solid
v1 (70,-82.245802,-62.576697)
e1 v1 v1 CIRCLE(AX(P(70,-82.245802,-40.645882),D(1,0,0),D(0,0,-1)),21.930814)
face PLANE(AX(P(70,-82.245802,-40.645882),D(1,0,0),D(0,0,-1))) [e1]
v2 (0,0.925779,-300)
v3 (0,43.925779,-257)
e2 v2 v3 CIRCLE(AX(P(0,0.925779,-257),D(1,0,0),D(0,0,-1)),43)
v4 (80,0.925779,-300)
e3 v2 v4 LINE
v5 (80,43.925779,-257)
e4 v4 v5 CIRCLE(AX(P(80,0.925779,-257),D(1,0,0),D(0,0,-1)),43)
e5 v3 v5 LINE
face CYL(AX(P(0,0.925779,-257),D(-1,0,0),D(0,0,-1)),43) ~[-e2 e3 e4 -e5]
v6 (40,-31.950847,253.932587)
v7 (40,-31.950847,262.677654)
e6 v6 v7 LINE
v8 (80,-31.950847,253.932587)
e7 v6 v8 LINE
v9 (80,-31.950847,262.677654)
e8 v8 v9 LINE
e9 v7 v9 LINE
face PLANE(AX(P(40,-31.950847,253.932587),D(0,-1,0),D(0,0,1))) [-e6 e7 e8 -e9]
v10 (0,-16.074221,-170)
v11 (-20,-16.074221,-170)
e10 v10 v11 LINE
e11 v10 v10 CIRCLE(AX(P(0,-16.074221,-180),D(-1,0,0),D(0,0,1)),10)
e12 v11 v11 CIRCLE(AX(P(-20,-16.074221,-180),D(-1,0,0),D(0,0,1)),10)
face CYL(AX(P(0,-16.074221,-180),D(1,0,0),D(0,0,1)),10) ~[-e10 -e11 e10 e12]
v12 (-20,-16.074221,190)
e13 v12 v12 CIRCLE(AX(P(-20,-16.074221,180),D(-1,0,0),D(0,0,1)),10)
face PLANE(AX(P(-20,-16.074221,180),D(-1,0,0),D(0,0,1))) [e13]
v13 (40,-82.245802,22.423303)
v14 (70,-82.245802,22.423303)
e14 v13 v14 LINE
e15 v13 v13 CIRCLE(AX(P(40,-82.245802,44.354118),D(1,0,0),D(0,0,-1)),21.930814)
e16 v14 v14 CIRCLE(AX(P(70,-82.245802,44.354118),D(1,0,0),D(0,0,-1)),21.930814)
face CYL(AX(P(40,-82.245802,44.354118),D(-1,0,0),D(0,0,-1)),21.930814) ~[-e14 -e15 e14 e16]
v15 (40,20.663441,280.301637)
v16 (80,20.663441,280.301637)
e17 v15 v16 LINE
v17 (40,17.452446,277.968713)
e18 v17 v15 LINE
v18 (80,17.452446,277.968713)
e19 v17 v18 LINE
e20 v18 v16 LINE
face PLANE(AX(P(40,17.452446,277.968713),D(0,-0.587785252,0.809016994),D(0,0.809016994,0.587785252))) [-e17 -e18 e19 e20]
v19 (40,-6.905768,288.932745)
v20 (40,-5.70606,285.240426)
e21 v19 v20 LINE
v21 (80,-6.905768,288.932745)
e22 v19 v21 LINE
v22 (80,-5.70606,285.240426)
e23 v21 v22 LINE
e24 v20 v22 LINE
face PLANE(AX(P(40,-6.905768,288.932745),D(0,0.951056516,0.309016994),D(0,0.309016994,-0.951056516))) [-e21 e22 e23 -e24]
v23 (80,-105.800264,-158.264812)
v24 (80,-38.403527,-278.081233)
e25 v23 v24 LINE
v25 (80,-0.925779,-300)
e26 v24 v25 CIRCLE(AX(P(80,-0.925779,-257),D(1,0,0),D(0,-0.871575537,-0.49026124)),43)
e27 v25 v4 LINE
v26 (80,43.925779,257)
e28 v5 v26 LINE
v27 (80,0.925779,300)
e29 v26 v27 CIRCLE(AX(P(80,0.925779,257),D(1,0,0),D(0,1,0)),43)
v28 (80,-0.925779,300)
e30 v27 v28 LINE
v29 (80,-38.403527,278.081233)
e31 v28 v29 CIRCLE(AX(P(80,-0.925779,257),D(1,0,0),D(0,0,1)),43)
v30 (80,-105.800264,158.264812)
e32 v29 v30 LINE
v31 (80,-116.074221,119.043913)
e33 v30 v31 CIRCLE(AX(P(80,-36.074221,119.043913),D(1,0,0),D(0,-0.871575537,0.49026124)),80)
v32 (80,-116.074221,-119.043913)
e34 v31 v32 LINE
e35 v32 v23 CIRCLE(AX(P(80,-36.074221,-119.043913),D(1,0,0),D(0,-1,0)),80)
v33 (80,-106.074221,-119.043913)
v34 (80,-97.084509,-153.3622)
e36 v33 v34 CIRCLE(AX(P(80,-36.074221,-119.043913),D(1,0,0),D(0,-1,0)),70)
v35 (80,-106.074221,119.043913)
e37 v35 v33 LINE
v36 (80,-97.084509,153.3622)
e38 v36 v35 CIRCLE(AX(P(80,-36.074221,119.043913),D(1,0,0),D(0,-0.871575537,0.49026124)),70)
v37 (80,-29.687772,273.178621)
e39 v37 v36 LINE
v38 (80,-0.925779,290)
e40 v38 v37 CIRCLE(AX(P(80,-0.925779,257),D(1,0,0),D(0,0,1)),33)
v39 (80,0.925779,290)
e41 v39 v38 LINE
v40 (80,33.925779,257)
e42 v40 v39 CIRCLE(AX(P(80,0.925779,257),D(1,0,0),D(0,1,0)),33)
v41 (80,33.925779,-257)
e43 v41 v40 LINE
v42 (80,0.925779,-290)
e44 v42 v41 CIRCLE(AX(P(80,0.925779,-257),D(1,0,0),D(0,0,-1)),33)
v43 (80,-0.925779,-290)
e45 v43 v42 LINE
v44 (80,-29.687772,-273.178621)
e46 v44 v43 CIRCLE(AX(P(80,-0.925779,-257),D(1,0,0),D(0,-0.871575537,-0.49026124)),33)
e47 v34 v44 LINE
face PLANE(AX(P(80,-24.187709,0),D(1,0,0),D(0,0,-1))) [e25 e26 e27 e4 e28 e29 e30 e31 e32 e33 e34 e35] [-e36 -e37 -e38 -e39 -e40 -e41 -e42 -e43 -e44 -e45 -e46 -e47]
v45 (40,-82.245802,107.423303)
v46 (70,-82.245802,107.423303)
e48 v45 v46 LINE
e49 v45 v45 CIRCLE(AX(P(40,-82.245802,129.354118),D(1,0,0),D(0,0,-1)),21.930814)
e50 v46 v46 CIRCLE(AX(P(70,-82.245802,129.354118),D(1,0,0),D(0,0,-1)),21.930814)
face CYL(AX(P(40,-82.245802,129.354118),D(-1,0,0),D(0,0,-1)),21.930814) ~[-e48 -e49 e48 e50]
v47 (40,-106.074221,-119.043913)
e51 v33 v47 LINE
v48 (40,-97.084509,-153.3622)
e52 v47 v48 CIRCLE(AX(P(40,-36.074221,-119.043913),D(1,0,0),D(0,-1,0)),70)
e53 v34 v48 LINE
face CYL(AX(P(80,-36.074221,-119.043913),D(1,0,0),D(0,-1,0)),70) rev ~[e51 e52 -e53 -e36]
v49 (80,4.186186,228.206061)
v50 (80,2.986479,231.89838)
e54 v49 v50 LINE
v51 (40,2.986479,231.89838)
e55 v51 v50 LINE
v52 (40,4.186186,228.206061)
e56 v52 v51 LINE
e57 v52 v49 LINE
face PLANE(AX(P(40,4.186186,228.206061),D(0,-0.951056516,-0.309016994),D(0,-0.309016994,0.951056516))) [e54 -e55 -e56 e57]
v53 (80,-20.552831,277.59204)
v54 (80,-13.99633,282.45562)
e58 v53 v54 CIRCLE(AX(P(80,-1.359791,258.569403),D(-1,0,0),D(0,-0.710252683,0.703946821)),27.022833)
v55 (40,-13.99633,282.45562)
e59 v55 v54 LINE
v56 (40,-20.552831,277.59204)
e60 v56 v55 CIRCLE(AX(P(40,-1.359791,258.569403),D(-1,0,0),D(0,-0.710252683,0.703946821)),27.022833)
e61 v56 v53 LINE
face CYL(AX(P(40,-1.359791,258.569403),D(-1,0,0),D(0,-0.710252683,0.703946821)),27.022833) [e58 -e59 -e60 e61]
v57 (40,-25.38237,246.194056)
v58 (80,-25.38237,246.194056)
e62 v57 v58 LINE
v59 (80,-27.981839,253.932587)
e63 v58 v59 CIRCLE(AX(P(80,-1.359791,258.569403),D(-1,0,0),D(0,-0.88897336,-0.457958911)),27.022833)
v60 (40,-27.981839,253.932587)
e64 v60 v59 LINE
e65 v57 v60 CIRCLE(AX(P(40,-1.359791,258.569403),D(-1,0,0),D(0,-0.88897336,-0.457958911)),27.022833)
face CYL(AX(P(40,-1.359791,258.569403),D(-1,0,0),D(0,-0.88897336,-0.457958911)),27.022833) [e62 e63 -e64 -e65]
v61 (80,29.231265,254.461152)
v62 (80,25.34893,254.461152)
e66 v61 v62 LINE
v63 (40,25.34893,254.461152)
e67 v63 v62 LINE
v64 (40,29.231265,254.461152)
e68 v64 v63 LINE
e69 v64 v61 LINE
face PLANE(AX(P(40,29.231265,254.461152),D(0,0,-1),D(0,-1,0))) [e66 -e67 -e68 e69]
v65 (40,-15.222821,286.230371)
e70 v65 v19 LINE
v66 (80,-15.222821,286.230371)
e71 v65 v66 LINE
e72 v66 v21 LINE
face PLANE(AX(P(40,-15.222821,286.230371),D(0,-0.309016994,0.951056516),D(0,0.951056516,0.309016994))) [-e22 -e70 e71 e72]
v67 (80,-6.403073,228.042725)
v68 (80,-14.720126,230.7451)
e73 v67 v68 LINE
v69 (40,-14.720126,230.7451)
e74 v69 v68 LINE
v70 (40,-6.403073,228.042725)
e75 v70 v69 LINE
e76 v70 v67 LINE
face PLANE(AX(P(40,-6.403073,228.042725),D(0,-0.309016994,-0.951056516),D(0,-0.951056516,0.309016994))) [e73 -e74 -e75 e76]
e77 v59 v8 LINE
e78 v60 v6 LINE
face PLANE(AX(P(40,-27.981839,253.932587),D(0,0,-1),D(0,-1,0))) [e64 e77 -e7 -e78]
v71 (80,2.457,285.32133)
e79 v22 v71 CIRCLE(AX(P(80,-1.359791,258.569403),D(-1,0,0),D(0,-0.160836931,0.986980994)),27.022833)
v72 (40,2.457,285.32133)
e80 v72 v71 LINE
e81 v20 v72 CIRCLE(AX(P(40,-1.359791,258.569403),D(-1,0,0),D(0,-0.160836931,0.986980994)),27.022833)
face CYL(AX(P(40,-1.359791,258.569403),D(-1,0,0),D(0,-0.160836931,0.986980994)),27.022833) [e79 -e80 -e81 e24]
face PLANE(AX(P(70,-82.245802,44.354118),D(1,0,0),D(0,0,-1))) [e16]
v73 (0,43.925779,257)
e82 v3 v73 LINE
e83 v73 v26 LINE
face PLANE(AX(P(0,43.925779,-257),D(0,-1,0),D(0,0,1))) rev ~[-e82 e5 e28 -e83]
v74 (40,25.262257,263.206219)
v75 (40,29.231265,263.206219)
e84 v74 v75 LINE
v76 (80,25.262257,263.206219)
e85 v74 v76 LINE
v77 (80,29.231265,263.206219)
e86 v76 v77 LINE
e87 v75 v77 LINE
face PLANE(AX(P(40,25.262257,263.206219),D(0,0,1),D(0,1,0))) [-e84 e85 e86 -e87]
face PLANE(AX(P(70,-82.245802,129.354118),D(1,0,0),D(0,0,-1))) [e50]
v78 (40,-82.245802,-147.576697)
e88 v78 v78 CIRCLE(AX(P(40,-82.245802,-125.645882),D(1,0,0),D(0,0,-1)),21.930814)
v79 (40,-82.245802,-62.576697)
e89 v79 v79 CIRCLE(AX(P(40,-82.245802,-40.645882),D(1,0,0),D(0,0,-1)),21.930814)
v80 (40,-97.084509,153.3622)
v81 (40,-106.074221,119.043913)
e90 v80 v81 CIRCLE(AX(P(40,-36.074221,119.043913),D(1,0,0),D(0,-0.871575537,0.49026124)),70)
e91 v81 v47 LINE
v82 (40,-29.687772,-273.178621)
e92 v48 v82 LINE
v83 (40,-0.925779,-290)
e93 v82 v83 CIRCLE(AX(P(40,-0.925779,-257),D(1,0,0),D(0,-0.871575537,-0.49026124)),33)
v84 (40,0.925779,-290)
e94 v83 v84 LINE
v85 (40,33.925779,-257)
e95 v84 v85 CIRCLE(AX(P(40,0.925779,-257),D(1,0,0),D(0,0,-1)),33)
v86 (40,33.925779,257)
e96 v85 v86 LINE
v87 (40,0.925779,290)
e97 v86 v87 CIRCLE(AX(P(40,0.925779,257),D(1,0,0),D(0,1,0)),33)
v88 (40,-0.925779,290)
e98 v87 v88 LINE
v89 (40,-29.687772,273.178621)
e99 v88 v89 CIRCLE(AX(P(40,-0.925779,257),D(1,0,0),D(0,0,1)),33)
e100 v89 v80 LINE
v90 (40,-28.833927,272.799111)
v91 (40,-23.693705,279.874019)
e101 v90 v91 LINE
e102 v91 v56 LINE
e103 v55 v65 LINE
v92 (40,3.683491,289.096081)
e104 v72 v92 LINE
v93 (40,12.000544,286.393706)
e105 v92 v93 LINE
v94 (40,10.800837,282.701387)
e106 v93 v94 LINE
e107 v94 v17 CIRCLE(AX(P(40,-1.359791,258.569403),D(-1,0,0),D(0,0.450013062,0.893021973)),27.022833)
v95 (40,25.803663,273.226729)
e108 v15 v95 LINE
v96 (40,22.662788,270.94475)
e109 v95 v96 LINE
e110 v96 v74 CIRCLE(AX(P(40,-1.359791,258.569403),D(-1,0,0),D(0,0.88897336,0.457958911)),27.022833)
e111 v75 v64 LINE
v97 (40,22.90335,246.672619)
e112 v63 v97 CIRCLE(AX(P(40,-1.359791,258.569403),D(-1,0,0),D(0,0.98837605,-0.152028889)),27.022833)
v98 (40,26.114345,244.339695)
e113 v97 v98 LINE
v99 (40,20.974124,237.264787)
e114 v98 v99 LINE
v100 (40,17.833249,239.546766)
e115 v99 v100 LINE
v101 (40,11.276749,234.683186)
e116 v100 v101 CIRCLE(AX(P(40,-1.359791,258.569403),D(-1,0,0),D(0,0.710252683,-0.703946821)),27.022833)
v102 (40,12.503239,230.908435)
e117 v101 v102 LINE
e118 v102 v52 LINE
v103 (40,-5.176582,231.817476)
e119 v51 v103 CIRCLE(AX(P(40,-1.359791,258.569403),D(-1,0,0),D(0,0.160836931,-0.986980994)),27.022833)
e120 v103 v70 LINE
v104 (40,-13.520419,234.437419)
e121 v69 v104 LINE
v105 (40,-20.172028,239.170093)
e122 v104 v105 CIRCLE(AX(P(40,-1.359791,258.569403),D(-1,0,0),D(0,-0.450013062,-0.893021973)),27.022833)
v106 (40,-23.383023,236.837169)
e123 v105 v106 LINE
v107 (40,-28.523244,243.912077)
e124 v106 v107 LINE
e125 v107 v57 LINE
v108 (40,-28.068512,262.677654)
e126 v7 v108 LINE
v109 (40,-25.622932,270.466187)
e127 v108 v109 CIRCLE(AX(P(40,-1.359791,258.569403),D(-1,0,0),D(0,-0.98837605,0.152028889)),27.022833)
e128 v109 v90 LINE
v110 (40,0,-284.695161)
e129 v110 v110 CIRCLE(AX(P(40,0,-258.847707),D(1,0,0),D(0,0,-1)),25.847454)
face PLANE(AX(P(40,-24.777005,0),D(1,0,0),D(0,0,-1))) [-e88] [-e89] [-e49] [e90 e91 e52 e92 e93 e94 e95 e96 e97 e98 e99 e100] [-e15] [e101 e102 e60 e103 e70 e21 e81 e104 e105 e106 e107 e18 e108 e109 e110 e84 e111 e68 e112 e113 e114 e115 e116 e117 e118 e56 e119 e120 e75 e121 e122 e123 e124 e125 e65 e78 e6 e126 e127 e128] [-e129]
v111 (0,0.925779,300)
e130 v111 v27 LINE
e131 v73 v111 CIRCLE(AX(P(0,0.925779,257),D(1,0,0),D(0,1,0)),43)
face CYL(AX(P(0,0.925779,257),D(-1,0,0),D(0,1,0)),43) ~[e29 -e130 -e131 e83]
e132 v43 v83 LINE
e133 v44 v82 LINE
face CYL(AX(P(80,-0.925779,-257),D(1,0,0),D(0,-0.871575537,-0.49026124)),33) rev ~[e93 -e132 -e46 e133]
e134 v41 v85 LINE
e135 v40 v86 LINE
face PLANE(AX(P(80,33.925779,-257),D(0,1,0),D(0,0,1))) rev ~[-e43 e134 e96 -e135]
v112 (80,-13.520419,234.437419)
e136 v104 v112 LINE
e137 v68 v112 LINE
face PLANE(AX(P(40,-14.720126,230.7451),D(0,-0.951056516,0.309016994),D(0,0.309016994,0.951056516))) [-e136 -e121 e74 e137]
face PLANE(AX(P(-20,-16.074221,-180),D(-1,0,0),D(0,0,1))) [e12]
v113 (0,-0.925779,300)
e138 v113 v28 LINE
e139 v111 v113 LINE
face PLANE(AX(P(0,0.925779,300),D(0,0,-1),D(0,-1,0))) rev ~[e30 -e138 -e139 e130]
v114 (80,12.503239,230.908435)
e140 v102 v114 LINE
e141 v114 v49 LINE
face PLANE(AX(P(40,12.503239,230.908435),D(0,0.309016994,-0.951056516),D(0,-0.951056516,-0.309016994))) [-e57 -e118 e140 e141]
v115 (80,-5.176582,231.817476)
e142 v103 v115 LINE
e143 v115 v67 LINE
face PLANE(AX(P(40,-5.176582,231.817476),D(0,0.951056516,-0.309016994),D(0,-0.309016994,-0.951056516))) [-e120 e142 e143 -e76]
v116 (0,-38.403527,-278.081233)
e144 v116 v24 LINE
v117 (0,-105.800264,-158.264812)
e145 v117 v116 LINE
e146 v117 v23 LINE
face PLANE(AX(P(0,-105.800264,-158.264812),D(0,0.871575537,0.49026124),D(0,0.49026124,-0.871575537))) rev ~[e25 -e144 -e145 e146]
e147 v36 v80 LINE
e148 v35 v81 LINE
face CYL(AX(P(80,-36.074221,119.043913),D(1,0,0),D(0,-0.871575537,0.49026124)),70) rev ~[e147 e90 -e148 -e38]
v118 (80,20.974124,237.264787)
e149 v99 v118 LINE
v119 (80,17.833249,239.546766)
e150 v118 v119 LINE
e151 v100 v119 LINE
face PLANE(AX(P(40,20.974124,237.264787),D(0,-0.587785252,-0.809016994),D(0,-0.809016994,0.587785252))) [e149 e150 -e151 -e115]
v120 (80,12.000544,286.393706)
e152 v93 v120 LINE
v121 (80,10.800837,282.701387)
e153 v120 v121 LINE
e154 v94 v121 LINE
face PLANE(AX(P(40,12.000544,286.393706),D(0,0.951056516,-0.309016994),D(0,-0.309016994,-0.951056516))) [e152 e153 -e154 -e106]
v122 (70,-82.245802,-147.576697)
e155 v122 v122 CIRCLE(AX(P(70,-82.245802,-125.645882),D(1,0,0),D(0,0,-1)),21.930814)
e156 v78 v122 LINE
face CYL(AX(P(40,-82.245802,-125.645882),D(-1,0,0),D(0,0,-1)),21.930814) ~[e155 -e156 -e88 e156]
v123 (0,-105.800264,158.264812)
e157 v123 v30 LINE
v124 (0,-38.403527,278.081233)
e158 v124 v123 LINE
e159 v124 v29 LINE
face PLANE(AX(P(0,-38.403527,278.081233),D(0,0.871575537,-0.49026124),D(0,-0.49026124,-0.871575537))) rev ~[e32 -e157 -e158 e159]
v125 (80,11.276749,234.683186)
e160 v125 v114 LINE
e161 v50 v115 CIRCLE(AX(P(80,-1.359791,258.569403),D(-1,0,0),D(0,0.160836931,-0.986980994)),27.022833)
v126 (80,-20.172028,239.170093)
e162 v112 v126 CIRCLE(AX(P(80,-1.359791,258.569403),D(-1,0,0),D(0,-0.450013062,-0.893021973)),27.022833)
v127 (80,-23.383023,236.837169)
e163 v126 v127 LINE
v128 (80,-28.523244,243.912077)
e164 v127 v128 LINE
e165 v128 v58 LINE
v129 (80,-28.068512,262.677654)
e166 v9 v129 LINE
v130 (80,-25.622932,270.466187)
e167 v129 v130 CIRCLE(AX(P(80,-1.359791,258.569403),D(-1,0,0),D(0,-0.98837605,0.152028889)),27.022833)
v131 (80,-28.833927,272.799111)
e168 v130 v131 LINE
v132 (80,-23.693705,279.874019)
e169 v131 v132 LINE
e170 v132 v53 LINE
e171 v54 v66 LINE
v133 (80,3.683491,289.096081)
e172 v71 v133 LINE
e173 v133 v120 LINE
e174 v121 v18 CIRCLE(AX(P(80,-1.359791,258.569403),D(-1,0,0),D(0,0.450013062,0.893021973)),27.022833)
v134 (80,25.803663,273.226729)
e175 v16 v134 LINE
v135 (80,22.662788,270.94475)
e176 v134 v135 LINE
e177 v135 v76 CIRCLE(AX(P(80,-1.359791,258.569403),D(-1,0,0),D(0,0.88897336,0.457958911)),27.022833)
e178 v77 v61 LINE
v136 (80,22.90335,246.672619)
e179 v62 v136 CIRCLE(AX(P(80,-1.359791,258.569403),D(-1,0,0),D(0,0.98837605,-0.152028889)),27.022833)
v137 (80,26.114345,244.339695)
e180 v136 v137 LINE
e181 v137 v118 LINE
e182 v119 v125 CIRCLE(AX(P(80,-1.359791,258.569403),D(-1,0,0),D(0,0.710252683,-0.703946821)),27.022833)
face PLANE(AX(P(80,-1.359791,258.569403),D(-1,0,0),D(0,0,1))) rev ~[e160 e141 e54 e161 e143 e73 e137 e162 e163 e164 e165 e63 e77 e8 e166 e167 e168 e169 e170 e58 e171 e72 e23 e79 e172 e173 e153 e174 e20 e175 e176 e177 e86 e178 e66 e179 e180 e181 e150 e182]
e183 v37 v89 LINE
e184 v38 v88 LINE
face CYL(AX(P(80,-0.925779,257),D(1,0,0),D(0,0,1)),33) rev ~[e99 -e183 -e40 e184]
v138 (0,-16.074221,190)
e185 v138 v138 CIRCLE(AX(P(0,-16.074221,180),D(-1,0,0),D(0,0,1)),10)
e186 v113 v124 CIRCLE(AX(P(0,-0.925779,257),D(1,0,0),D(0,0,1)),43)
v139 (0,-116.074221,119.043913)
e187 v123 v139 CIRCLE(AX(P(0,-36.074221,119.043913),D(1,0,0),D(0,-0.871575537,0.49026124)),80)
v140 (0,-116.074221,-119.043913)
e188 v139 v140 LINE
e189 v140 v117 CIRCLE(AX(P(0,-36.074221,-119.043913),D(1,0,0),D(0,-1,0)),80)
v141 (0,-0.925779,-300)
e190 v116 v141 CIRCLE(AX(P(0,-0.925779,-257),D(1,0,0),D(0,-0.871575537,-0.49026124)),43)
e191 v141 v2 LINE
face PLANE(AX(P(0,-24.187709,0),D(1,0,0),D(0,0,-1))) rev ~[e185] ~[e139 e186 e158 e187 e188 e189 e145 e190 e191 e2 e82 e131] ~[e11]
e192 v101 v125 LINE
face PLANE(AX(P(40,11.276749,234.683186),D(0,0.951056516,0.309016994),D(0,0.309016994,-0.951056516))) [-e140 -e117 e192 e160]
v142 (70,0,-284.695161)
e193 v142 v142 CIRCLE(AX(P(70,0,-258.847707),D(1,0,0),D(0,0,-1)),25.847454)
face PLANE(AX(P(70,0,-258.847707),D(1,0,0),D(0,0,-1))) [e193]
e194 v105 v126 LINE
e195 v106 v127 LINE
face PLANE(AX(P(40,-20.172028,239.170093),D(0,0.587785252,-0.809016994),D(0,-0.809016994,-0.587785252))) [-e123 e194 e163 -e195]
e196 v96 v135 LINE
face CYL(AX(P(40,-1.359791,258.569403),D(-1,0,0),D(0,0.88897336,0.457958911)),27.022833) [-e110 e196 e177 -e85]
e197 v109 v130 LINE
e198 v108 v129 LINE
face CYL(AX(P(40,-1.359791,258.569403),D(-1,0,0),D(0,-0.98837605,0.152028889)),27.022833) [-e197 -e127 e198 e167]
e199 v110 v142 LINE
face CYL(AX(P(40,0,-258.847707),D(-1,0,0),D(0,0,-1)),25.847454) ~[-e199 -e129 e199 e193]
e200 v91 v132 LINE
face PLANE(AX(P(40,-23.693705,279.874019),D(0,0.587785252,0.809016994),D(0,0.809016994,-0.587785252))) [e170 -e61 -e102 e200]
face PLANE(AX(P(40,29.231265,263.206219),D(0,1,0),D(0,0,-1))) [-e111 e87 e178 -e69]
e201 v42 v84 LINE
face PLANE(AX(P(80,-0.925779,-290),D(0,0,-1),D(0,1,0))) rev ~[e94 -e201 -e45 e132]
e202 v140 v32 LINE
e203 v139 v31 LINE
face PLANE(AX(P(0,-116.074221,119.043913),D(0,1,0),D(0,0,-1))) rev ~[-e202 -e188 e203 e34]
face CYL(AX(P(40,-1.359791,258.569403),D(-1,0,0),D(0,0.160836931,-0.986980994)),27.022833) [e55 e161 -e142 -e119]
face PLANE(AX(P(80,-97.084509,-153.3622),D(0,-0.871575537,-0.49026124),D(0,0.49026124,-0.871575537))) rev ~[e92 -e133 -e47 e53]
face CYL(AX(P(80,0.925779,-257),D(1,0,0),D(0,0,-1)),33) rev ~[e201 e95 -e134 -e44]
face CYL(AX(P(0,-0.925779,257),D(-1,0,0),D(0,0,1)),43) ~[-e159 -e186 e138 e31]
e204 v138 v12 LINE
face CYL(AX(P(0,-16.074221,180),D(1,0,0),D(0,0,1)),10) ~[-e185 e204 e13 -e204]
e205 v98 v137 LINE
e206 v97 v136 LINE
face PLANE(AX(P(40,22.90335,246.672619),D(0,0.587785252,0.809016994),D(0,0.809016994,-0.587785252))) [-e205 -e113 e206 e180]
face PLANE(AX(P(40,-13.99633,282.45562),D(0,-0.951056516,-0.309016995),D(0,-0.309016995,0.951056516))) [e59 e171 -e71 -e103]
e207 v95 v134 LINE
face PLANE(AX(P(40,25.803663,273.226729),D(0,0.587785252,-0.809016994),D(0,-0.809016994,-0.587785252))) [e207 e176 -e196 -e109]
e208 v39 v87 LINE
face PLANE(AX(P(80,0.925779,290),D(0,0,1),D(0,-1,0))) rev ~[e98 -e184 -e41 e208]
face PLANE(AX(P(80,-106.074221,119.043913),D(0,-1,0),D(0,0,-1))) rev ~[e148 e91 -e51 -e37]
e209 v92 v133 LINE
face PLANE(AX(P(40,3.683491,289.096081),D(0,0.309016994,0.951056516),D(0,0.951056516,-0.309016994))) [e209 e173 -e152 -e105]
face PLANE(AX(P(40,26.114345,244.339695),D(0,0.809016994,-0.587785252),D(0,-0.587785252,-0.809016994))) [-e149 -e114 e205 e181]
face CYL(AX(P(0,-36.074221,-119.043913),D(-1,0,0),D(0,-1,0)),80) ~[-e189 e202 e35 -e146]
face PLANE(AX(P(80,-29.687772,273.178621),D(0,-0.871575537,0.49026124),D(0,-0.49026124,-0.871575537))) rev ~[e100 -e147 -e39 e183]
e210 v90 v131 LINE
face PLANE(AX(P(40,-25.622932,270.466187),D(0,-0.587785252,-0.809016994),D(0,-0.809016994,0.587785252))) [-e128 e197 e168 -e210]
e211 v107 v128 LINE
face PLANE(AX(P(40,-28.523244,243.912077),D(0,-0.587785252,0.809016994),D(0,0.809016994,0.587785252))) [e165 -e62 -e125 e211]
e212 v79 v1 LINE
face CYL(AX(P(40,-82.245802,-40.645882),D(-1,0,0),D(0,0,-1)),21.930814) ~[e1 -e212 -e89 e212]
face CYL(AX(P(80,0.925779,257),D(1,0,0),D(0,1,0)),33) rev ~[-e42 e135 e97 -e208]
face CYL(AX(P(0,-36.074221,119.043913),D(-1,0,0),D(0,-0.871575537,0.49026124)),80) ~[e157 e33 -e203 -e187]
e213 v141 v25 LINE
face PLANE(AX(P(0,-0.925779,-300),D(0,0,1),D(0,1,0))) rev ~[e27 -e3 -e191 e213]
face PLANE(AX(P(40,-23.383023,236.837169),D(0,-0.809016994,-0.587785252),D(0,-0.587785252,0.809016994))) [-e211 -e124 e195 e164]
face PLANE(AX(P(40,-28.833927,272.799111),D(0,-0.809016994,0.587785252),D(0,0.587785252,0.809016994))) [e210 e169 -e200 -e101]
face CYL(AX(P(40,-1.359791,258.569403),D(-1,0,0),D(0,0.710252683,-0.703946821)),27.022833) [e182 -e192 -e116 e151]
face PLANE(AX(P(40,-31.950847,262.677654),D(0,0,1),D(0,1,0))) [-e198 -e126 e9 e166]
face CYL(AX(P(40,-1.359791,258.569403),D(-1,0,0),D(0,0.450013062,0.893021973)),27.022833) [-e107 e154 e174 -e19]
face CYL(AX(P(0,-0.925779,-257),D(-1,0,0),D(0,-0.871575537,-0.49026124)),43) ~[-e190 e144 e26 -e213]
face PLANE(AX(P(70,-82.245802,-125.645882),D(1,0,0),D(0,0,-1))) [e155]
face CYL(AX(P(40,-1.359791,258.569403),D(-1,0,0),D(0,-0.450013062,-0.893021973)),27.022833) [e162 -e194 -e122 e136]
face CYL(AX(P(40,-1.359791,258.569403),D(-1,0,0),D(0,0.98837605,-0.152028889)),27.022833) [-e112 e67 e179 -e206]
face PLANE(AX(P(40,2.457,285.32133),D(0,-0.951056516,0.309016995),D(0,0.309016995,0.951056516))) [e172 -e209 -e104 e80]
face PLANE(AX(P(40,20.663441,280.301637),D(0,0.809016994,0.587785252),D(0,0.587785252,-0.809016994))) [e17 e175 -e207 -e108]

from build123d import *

# Parameters (mm, degrees)
EXTRUDE_1_DEPTH     = 80
CUT_EXTRUDE_1_DEPTH = 40
EXTRUDE_2_DEPTH     = 40
SKETCH_5_R          = 21.930814163
SKETCH_5_R_2        = 25.847454044
EXTRUDE_3_DEPTH     = 30
SKETCH_6_R          = 10
EXTRUDE_4_DEPTH     = 20


with BuildPart() as part:
    # 草图2 → 凸台-拉伸1 (new body)
    with BuildSketch(Plane(origin=(0, 0, 0), x_dir=(0, 0, -1), z_dir=(1, 0, 0))):
        with BuildLine():
            Line((158.264812498, -105.800263885), (278.081233304, -38.403527181))
            ThreePointArc((278.081233304, -38.403527181), (294.118007975, -22.634152676), (300, -0.925779085))
            Line((300, -0.925779085), (300, 0.925779085))
            ThreePointArc((300, 0.925779085), (287.405591591, 31.331370676), (257, 43.925779085))
            Line((257, 43.925779085), (-257, 43.925779085))
            ThreePointArc((-257, 43.925779085), (-287.405591591, 31.331370676), (-300, 0.925779085))
            Line((-300, 0.925779085), (-300, -0.925779085))
            ThreePointArc((-300, -0.925779085), (-294.118007975, -22.634152676), (-278.081233304, -38.403527181))
            Line((-278.081233304, -38.403527181), (-158.264812498, -105.800263885))
            ThreePointArc((-158.264812498, -105.800263885), (-139.316019316, -113.463120111), (-119.043913327, -116.074220915))
            Line((-119.043913327, -116.074220915), (119.043913327, -116.074220915))
            ThreePointArc((119.043913327, -116.074220915), (139.316019316, -113.463120111), (158.264812498, -105.800263885))
        make_face()
    extrude(amount=EXTRUDE_1_DEPTH)

    # 草图3 → 切除-拉伸1 (cut)
    with BuildSketch(Plane(origin=(80, 0, 0), x_dir=(0, 0, -1), z_dir=(1, 0, 0))):
        with BuildLine():
            Line((257, 33.925779085), (-257, 33.925779085))
            ThreePointArc((-257, 33.925779085), (-280.334523779, 24.260302864), (-290, 0.925779085))
            Line((-290, 0.925779085), (-290, -0.925779085))
            ThreePointArc((-290, -0.925779085), (-285.485913097, -17.585693701), (-273.178620908, -29.68777181))
            Line((-273.178620908, -29.68777181), (-153.362200102, -97.084508514))
            ThreePointArc((-153.362200102, -97.084508514), (-136.782006067, -103.789507712), (-119.043913327, -106.074220915))
            Line((-119.043913327, -106.074220915), (119.043913327, -106.074220915))
            ThreePointArc((119.043913327, -106.074220915), (136.782006067, -103.789507712), (153.362200102, -97.084508514))
            Line((153.362200102, -97.084508514), (273.178620908, -29.68777181))
            ThreePointArc((273.178620908, -29.68777181), (285.485913097, -17.585693701), (290, -0.925779085))
            Line((290, -0.925779085), (290, 0.925779085))
            ThreePointArc((290, 0.925779085), (280.334523779, 24.260302864), (257, 33.925779085))
        make_face()
    extrude(amount=-CUT_EXTRUDE_1_DEPTH, mode=Mode.SUBTRACT)

    # 草图4 → 凸台-拉伸2 (add)
    with BuildSketch(Plane(origin=(40, 0, 0), x_dir=(0, 0, -1), z_dir=(1, 0, 0))):
        with BuildLine():
            Line((-237.264786543, 20.974123526), (-239.546765639, 17.833248756))
            ThreePointArc((-239.546765639, 17.833248756), (-236.865961455, 14.739716181), (-234.683185749, 11.276748513))
            Line((-234.683185749, 11.276748513), (-230.908435146, 12.503239332))
            Line((-230.908435146, 12.503239332), (-228.206060722, 4.186186056))
            Line((-228.206060722, 4.186186056), (-231.89838046, 2.986478649))
            ThreePointArc((-231.89838046, 2.986478649), (-231.547897142, -1.09197894), (-231.817475826, -5.176582004))
            Line((-231.817475826, -5.176582004), (-228.042725222, -6.403072824))
            Line((-228.042725222, -6.403072824), (-230.745099646, -14.720126099))
            Line((-230.745099646, -14.720126099), (-234.437419384, -13.520418692))
            ThreePointArc((-234.437419384, -13.520418692), (-236.551129646, -17.025969117), (-239.170092825, -20.172028037))
            Line((-239.170092825, -20.172028037), (-236.837168653, -23.383022689))
            Line((-236.837168653, -23.383022689), (-243.912076745, -28.5232443))
            Line((-243.912076745, -28.5232443), (-246.194055841, -25.38236953))
            ThreePointArc((-246.194055841, -25.38236953), (-249.964594205, -26.976011679), (-253.932586961, -27.981838877))
            Line((-253.932586961, -27.981838877), (-253.932586961, -31.950846543))
            Line((-253.932586961, -31.950846543), (-262.677654297, -31.950846543))
            Line((-262.677654297, -31.950846543), (-262.677654297, -28.068511818))
            ThreePointArc((-262.677654297, -28.068511818), (-266.664803265, -27.141528556), (-270.466187231, -25.62293223))
            Line((-270.466187231, -25.62293223), (-272.799111403, -28.833926882))
            Line((-272.799111403, -28.833926882), (-279.874019495, -23.693705272))
            Line((-279.874019495, -23.693705272), (-277.592040399, -20.552830502))
            ThreePointArc((-277.592040399, -20.552830502), (-280.272844583, -17.459297927), (-282.455620289, -13.996330258))
            Line((-282.455620289, -13.996330258), (-286.230370892, -15.222821078))
            Line((-286.230370892, -15.222821078), (-288.932745316, -6.905767802))
            Line((-288.932745316, -6.905767802), (-285.240425578, -5.706060395))
            ThreePointArc((-285.240425578, -5.706060395), (-285.590908896, -1.627602806), (-285.321330213, 2.457000258))
            Line((-285.321330213, 2.457000258), (-289.096080816, 3.683491078))
            Line((-289.096080816, 3.683491078), (-286.393706392, 12.000544353))
            Line((-286.393706392, 12.000544353), (-282.701386654, 10.800836946))
            ThreePointArc((-282.701386654, 10.800836946), (-280.587676392, 14.306387371), (-277.968713213, 17.452446291))
            Line((-277.968713213, 17.452446291), (-280.301637385, 20.663440943))
            Line((-280.301637385, 20.663440943), (-273.226729293, 25.803662554))
            Line((-273.226729293, 25.803662554), (-270.944750197, 22.662787784))
            ThreePointArc((-270.944750197, 22.662787784), (-267.174211833, 24.256429933), (-263.206219077, 25.262257132))
            Line((-263.206219077, 25.262257132), (-263.206219077, 29.231264797))
            Line((-263.206219077, 29.231264797), (-254.461151741, 29.231264797))
            Line((-254.461151741, 29.231264797), (-254.461151741, 25.348930073))
            ThreePointArc((-254.461151741, 25.348930073), (-250.474002773, 24.42194681), (-246.672618807, 22.903350484))
            Line((-246.672618807, 22.903350484), (-244.339694635, 26.114345136))
            Line((-244.339694635, 26.114345136), (-237.264786543, 20.974123526))
        make_face()
    extrude(amount=EXTRUDE_2_DEPTH)

    # 草图5 → 凸台-拉伸3 (add)
    with BuildSketch(Plane(origin=(40, 0, 0), x_dir=(0, 0, -1), z_dir=(1, 0, 0))):
        with Locations((-129.354117612, -82.245801831)):
            Circle(SKETCH_5_R)
        with Locations((-44.354117612, -82.245801831)):
            Circle(SKETCH_5_R)
        with Locations((40.645882388, -82.245801831)):
            Circle(SKETCH_5_R)
        with Locations((125.645882388, -82.245801831)):
            Circle(SKETCH_5_R)
        with Locations((258.847706699, 0)):
            Circle(SKETCH_5_R_2)
    extrude(amount=EXTRUDE_3_DEPTH)

    # 草图6 → 凸台-拉伸4 (add)
    with BuildSketch(Plane.ZY):
        with Locations((-180, -16.074220915)):
            Circle(SKETCH_6_R)
        with Locations((180, -16.074220915)):
            Circle(SKETCH_6_R)
    extrude(amount=EXTRUDE_4_DEPTH)


solid = part.part
